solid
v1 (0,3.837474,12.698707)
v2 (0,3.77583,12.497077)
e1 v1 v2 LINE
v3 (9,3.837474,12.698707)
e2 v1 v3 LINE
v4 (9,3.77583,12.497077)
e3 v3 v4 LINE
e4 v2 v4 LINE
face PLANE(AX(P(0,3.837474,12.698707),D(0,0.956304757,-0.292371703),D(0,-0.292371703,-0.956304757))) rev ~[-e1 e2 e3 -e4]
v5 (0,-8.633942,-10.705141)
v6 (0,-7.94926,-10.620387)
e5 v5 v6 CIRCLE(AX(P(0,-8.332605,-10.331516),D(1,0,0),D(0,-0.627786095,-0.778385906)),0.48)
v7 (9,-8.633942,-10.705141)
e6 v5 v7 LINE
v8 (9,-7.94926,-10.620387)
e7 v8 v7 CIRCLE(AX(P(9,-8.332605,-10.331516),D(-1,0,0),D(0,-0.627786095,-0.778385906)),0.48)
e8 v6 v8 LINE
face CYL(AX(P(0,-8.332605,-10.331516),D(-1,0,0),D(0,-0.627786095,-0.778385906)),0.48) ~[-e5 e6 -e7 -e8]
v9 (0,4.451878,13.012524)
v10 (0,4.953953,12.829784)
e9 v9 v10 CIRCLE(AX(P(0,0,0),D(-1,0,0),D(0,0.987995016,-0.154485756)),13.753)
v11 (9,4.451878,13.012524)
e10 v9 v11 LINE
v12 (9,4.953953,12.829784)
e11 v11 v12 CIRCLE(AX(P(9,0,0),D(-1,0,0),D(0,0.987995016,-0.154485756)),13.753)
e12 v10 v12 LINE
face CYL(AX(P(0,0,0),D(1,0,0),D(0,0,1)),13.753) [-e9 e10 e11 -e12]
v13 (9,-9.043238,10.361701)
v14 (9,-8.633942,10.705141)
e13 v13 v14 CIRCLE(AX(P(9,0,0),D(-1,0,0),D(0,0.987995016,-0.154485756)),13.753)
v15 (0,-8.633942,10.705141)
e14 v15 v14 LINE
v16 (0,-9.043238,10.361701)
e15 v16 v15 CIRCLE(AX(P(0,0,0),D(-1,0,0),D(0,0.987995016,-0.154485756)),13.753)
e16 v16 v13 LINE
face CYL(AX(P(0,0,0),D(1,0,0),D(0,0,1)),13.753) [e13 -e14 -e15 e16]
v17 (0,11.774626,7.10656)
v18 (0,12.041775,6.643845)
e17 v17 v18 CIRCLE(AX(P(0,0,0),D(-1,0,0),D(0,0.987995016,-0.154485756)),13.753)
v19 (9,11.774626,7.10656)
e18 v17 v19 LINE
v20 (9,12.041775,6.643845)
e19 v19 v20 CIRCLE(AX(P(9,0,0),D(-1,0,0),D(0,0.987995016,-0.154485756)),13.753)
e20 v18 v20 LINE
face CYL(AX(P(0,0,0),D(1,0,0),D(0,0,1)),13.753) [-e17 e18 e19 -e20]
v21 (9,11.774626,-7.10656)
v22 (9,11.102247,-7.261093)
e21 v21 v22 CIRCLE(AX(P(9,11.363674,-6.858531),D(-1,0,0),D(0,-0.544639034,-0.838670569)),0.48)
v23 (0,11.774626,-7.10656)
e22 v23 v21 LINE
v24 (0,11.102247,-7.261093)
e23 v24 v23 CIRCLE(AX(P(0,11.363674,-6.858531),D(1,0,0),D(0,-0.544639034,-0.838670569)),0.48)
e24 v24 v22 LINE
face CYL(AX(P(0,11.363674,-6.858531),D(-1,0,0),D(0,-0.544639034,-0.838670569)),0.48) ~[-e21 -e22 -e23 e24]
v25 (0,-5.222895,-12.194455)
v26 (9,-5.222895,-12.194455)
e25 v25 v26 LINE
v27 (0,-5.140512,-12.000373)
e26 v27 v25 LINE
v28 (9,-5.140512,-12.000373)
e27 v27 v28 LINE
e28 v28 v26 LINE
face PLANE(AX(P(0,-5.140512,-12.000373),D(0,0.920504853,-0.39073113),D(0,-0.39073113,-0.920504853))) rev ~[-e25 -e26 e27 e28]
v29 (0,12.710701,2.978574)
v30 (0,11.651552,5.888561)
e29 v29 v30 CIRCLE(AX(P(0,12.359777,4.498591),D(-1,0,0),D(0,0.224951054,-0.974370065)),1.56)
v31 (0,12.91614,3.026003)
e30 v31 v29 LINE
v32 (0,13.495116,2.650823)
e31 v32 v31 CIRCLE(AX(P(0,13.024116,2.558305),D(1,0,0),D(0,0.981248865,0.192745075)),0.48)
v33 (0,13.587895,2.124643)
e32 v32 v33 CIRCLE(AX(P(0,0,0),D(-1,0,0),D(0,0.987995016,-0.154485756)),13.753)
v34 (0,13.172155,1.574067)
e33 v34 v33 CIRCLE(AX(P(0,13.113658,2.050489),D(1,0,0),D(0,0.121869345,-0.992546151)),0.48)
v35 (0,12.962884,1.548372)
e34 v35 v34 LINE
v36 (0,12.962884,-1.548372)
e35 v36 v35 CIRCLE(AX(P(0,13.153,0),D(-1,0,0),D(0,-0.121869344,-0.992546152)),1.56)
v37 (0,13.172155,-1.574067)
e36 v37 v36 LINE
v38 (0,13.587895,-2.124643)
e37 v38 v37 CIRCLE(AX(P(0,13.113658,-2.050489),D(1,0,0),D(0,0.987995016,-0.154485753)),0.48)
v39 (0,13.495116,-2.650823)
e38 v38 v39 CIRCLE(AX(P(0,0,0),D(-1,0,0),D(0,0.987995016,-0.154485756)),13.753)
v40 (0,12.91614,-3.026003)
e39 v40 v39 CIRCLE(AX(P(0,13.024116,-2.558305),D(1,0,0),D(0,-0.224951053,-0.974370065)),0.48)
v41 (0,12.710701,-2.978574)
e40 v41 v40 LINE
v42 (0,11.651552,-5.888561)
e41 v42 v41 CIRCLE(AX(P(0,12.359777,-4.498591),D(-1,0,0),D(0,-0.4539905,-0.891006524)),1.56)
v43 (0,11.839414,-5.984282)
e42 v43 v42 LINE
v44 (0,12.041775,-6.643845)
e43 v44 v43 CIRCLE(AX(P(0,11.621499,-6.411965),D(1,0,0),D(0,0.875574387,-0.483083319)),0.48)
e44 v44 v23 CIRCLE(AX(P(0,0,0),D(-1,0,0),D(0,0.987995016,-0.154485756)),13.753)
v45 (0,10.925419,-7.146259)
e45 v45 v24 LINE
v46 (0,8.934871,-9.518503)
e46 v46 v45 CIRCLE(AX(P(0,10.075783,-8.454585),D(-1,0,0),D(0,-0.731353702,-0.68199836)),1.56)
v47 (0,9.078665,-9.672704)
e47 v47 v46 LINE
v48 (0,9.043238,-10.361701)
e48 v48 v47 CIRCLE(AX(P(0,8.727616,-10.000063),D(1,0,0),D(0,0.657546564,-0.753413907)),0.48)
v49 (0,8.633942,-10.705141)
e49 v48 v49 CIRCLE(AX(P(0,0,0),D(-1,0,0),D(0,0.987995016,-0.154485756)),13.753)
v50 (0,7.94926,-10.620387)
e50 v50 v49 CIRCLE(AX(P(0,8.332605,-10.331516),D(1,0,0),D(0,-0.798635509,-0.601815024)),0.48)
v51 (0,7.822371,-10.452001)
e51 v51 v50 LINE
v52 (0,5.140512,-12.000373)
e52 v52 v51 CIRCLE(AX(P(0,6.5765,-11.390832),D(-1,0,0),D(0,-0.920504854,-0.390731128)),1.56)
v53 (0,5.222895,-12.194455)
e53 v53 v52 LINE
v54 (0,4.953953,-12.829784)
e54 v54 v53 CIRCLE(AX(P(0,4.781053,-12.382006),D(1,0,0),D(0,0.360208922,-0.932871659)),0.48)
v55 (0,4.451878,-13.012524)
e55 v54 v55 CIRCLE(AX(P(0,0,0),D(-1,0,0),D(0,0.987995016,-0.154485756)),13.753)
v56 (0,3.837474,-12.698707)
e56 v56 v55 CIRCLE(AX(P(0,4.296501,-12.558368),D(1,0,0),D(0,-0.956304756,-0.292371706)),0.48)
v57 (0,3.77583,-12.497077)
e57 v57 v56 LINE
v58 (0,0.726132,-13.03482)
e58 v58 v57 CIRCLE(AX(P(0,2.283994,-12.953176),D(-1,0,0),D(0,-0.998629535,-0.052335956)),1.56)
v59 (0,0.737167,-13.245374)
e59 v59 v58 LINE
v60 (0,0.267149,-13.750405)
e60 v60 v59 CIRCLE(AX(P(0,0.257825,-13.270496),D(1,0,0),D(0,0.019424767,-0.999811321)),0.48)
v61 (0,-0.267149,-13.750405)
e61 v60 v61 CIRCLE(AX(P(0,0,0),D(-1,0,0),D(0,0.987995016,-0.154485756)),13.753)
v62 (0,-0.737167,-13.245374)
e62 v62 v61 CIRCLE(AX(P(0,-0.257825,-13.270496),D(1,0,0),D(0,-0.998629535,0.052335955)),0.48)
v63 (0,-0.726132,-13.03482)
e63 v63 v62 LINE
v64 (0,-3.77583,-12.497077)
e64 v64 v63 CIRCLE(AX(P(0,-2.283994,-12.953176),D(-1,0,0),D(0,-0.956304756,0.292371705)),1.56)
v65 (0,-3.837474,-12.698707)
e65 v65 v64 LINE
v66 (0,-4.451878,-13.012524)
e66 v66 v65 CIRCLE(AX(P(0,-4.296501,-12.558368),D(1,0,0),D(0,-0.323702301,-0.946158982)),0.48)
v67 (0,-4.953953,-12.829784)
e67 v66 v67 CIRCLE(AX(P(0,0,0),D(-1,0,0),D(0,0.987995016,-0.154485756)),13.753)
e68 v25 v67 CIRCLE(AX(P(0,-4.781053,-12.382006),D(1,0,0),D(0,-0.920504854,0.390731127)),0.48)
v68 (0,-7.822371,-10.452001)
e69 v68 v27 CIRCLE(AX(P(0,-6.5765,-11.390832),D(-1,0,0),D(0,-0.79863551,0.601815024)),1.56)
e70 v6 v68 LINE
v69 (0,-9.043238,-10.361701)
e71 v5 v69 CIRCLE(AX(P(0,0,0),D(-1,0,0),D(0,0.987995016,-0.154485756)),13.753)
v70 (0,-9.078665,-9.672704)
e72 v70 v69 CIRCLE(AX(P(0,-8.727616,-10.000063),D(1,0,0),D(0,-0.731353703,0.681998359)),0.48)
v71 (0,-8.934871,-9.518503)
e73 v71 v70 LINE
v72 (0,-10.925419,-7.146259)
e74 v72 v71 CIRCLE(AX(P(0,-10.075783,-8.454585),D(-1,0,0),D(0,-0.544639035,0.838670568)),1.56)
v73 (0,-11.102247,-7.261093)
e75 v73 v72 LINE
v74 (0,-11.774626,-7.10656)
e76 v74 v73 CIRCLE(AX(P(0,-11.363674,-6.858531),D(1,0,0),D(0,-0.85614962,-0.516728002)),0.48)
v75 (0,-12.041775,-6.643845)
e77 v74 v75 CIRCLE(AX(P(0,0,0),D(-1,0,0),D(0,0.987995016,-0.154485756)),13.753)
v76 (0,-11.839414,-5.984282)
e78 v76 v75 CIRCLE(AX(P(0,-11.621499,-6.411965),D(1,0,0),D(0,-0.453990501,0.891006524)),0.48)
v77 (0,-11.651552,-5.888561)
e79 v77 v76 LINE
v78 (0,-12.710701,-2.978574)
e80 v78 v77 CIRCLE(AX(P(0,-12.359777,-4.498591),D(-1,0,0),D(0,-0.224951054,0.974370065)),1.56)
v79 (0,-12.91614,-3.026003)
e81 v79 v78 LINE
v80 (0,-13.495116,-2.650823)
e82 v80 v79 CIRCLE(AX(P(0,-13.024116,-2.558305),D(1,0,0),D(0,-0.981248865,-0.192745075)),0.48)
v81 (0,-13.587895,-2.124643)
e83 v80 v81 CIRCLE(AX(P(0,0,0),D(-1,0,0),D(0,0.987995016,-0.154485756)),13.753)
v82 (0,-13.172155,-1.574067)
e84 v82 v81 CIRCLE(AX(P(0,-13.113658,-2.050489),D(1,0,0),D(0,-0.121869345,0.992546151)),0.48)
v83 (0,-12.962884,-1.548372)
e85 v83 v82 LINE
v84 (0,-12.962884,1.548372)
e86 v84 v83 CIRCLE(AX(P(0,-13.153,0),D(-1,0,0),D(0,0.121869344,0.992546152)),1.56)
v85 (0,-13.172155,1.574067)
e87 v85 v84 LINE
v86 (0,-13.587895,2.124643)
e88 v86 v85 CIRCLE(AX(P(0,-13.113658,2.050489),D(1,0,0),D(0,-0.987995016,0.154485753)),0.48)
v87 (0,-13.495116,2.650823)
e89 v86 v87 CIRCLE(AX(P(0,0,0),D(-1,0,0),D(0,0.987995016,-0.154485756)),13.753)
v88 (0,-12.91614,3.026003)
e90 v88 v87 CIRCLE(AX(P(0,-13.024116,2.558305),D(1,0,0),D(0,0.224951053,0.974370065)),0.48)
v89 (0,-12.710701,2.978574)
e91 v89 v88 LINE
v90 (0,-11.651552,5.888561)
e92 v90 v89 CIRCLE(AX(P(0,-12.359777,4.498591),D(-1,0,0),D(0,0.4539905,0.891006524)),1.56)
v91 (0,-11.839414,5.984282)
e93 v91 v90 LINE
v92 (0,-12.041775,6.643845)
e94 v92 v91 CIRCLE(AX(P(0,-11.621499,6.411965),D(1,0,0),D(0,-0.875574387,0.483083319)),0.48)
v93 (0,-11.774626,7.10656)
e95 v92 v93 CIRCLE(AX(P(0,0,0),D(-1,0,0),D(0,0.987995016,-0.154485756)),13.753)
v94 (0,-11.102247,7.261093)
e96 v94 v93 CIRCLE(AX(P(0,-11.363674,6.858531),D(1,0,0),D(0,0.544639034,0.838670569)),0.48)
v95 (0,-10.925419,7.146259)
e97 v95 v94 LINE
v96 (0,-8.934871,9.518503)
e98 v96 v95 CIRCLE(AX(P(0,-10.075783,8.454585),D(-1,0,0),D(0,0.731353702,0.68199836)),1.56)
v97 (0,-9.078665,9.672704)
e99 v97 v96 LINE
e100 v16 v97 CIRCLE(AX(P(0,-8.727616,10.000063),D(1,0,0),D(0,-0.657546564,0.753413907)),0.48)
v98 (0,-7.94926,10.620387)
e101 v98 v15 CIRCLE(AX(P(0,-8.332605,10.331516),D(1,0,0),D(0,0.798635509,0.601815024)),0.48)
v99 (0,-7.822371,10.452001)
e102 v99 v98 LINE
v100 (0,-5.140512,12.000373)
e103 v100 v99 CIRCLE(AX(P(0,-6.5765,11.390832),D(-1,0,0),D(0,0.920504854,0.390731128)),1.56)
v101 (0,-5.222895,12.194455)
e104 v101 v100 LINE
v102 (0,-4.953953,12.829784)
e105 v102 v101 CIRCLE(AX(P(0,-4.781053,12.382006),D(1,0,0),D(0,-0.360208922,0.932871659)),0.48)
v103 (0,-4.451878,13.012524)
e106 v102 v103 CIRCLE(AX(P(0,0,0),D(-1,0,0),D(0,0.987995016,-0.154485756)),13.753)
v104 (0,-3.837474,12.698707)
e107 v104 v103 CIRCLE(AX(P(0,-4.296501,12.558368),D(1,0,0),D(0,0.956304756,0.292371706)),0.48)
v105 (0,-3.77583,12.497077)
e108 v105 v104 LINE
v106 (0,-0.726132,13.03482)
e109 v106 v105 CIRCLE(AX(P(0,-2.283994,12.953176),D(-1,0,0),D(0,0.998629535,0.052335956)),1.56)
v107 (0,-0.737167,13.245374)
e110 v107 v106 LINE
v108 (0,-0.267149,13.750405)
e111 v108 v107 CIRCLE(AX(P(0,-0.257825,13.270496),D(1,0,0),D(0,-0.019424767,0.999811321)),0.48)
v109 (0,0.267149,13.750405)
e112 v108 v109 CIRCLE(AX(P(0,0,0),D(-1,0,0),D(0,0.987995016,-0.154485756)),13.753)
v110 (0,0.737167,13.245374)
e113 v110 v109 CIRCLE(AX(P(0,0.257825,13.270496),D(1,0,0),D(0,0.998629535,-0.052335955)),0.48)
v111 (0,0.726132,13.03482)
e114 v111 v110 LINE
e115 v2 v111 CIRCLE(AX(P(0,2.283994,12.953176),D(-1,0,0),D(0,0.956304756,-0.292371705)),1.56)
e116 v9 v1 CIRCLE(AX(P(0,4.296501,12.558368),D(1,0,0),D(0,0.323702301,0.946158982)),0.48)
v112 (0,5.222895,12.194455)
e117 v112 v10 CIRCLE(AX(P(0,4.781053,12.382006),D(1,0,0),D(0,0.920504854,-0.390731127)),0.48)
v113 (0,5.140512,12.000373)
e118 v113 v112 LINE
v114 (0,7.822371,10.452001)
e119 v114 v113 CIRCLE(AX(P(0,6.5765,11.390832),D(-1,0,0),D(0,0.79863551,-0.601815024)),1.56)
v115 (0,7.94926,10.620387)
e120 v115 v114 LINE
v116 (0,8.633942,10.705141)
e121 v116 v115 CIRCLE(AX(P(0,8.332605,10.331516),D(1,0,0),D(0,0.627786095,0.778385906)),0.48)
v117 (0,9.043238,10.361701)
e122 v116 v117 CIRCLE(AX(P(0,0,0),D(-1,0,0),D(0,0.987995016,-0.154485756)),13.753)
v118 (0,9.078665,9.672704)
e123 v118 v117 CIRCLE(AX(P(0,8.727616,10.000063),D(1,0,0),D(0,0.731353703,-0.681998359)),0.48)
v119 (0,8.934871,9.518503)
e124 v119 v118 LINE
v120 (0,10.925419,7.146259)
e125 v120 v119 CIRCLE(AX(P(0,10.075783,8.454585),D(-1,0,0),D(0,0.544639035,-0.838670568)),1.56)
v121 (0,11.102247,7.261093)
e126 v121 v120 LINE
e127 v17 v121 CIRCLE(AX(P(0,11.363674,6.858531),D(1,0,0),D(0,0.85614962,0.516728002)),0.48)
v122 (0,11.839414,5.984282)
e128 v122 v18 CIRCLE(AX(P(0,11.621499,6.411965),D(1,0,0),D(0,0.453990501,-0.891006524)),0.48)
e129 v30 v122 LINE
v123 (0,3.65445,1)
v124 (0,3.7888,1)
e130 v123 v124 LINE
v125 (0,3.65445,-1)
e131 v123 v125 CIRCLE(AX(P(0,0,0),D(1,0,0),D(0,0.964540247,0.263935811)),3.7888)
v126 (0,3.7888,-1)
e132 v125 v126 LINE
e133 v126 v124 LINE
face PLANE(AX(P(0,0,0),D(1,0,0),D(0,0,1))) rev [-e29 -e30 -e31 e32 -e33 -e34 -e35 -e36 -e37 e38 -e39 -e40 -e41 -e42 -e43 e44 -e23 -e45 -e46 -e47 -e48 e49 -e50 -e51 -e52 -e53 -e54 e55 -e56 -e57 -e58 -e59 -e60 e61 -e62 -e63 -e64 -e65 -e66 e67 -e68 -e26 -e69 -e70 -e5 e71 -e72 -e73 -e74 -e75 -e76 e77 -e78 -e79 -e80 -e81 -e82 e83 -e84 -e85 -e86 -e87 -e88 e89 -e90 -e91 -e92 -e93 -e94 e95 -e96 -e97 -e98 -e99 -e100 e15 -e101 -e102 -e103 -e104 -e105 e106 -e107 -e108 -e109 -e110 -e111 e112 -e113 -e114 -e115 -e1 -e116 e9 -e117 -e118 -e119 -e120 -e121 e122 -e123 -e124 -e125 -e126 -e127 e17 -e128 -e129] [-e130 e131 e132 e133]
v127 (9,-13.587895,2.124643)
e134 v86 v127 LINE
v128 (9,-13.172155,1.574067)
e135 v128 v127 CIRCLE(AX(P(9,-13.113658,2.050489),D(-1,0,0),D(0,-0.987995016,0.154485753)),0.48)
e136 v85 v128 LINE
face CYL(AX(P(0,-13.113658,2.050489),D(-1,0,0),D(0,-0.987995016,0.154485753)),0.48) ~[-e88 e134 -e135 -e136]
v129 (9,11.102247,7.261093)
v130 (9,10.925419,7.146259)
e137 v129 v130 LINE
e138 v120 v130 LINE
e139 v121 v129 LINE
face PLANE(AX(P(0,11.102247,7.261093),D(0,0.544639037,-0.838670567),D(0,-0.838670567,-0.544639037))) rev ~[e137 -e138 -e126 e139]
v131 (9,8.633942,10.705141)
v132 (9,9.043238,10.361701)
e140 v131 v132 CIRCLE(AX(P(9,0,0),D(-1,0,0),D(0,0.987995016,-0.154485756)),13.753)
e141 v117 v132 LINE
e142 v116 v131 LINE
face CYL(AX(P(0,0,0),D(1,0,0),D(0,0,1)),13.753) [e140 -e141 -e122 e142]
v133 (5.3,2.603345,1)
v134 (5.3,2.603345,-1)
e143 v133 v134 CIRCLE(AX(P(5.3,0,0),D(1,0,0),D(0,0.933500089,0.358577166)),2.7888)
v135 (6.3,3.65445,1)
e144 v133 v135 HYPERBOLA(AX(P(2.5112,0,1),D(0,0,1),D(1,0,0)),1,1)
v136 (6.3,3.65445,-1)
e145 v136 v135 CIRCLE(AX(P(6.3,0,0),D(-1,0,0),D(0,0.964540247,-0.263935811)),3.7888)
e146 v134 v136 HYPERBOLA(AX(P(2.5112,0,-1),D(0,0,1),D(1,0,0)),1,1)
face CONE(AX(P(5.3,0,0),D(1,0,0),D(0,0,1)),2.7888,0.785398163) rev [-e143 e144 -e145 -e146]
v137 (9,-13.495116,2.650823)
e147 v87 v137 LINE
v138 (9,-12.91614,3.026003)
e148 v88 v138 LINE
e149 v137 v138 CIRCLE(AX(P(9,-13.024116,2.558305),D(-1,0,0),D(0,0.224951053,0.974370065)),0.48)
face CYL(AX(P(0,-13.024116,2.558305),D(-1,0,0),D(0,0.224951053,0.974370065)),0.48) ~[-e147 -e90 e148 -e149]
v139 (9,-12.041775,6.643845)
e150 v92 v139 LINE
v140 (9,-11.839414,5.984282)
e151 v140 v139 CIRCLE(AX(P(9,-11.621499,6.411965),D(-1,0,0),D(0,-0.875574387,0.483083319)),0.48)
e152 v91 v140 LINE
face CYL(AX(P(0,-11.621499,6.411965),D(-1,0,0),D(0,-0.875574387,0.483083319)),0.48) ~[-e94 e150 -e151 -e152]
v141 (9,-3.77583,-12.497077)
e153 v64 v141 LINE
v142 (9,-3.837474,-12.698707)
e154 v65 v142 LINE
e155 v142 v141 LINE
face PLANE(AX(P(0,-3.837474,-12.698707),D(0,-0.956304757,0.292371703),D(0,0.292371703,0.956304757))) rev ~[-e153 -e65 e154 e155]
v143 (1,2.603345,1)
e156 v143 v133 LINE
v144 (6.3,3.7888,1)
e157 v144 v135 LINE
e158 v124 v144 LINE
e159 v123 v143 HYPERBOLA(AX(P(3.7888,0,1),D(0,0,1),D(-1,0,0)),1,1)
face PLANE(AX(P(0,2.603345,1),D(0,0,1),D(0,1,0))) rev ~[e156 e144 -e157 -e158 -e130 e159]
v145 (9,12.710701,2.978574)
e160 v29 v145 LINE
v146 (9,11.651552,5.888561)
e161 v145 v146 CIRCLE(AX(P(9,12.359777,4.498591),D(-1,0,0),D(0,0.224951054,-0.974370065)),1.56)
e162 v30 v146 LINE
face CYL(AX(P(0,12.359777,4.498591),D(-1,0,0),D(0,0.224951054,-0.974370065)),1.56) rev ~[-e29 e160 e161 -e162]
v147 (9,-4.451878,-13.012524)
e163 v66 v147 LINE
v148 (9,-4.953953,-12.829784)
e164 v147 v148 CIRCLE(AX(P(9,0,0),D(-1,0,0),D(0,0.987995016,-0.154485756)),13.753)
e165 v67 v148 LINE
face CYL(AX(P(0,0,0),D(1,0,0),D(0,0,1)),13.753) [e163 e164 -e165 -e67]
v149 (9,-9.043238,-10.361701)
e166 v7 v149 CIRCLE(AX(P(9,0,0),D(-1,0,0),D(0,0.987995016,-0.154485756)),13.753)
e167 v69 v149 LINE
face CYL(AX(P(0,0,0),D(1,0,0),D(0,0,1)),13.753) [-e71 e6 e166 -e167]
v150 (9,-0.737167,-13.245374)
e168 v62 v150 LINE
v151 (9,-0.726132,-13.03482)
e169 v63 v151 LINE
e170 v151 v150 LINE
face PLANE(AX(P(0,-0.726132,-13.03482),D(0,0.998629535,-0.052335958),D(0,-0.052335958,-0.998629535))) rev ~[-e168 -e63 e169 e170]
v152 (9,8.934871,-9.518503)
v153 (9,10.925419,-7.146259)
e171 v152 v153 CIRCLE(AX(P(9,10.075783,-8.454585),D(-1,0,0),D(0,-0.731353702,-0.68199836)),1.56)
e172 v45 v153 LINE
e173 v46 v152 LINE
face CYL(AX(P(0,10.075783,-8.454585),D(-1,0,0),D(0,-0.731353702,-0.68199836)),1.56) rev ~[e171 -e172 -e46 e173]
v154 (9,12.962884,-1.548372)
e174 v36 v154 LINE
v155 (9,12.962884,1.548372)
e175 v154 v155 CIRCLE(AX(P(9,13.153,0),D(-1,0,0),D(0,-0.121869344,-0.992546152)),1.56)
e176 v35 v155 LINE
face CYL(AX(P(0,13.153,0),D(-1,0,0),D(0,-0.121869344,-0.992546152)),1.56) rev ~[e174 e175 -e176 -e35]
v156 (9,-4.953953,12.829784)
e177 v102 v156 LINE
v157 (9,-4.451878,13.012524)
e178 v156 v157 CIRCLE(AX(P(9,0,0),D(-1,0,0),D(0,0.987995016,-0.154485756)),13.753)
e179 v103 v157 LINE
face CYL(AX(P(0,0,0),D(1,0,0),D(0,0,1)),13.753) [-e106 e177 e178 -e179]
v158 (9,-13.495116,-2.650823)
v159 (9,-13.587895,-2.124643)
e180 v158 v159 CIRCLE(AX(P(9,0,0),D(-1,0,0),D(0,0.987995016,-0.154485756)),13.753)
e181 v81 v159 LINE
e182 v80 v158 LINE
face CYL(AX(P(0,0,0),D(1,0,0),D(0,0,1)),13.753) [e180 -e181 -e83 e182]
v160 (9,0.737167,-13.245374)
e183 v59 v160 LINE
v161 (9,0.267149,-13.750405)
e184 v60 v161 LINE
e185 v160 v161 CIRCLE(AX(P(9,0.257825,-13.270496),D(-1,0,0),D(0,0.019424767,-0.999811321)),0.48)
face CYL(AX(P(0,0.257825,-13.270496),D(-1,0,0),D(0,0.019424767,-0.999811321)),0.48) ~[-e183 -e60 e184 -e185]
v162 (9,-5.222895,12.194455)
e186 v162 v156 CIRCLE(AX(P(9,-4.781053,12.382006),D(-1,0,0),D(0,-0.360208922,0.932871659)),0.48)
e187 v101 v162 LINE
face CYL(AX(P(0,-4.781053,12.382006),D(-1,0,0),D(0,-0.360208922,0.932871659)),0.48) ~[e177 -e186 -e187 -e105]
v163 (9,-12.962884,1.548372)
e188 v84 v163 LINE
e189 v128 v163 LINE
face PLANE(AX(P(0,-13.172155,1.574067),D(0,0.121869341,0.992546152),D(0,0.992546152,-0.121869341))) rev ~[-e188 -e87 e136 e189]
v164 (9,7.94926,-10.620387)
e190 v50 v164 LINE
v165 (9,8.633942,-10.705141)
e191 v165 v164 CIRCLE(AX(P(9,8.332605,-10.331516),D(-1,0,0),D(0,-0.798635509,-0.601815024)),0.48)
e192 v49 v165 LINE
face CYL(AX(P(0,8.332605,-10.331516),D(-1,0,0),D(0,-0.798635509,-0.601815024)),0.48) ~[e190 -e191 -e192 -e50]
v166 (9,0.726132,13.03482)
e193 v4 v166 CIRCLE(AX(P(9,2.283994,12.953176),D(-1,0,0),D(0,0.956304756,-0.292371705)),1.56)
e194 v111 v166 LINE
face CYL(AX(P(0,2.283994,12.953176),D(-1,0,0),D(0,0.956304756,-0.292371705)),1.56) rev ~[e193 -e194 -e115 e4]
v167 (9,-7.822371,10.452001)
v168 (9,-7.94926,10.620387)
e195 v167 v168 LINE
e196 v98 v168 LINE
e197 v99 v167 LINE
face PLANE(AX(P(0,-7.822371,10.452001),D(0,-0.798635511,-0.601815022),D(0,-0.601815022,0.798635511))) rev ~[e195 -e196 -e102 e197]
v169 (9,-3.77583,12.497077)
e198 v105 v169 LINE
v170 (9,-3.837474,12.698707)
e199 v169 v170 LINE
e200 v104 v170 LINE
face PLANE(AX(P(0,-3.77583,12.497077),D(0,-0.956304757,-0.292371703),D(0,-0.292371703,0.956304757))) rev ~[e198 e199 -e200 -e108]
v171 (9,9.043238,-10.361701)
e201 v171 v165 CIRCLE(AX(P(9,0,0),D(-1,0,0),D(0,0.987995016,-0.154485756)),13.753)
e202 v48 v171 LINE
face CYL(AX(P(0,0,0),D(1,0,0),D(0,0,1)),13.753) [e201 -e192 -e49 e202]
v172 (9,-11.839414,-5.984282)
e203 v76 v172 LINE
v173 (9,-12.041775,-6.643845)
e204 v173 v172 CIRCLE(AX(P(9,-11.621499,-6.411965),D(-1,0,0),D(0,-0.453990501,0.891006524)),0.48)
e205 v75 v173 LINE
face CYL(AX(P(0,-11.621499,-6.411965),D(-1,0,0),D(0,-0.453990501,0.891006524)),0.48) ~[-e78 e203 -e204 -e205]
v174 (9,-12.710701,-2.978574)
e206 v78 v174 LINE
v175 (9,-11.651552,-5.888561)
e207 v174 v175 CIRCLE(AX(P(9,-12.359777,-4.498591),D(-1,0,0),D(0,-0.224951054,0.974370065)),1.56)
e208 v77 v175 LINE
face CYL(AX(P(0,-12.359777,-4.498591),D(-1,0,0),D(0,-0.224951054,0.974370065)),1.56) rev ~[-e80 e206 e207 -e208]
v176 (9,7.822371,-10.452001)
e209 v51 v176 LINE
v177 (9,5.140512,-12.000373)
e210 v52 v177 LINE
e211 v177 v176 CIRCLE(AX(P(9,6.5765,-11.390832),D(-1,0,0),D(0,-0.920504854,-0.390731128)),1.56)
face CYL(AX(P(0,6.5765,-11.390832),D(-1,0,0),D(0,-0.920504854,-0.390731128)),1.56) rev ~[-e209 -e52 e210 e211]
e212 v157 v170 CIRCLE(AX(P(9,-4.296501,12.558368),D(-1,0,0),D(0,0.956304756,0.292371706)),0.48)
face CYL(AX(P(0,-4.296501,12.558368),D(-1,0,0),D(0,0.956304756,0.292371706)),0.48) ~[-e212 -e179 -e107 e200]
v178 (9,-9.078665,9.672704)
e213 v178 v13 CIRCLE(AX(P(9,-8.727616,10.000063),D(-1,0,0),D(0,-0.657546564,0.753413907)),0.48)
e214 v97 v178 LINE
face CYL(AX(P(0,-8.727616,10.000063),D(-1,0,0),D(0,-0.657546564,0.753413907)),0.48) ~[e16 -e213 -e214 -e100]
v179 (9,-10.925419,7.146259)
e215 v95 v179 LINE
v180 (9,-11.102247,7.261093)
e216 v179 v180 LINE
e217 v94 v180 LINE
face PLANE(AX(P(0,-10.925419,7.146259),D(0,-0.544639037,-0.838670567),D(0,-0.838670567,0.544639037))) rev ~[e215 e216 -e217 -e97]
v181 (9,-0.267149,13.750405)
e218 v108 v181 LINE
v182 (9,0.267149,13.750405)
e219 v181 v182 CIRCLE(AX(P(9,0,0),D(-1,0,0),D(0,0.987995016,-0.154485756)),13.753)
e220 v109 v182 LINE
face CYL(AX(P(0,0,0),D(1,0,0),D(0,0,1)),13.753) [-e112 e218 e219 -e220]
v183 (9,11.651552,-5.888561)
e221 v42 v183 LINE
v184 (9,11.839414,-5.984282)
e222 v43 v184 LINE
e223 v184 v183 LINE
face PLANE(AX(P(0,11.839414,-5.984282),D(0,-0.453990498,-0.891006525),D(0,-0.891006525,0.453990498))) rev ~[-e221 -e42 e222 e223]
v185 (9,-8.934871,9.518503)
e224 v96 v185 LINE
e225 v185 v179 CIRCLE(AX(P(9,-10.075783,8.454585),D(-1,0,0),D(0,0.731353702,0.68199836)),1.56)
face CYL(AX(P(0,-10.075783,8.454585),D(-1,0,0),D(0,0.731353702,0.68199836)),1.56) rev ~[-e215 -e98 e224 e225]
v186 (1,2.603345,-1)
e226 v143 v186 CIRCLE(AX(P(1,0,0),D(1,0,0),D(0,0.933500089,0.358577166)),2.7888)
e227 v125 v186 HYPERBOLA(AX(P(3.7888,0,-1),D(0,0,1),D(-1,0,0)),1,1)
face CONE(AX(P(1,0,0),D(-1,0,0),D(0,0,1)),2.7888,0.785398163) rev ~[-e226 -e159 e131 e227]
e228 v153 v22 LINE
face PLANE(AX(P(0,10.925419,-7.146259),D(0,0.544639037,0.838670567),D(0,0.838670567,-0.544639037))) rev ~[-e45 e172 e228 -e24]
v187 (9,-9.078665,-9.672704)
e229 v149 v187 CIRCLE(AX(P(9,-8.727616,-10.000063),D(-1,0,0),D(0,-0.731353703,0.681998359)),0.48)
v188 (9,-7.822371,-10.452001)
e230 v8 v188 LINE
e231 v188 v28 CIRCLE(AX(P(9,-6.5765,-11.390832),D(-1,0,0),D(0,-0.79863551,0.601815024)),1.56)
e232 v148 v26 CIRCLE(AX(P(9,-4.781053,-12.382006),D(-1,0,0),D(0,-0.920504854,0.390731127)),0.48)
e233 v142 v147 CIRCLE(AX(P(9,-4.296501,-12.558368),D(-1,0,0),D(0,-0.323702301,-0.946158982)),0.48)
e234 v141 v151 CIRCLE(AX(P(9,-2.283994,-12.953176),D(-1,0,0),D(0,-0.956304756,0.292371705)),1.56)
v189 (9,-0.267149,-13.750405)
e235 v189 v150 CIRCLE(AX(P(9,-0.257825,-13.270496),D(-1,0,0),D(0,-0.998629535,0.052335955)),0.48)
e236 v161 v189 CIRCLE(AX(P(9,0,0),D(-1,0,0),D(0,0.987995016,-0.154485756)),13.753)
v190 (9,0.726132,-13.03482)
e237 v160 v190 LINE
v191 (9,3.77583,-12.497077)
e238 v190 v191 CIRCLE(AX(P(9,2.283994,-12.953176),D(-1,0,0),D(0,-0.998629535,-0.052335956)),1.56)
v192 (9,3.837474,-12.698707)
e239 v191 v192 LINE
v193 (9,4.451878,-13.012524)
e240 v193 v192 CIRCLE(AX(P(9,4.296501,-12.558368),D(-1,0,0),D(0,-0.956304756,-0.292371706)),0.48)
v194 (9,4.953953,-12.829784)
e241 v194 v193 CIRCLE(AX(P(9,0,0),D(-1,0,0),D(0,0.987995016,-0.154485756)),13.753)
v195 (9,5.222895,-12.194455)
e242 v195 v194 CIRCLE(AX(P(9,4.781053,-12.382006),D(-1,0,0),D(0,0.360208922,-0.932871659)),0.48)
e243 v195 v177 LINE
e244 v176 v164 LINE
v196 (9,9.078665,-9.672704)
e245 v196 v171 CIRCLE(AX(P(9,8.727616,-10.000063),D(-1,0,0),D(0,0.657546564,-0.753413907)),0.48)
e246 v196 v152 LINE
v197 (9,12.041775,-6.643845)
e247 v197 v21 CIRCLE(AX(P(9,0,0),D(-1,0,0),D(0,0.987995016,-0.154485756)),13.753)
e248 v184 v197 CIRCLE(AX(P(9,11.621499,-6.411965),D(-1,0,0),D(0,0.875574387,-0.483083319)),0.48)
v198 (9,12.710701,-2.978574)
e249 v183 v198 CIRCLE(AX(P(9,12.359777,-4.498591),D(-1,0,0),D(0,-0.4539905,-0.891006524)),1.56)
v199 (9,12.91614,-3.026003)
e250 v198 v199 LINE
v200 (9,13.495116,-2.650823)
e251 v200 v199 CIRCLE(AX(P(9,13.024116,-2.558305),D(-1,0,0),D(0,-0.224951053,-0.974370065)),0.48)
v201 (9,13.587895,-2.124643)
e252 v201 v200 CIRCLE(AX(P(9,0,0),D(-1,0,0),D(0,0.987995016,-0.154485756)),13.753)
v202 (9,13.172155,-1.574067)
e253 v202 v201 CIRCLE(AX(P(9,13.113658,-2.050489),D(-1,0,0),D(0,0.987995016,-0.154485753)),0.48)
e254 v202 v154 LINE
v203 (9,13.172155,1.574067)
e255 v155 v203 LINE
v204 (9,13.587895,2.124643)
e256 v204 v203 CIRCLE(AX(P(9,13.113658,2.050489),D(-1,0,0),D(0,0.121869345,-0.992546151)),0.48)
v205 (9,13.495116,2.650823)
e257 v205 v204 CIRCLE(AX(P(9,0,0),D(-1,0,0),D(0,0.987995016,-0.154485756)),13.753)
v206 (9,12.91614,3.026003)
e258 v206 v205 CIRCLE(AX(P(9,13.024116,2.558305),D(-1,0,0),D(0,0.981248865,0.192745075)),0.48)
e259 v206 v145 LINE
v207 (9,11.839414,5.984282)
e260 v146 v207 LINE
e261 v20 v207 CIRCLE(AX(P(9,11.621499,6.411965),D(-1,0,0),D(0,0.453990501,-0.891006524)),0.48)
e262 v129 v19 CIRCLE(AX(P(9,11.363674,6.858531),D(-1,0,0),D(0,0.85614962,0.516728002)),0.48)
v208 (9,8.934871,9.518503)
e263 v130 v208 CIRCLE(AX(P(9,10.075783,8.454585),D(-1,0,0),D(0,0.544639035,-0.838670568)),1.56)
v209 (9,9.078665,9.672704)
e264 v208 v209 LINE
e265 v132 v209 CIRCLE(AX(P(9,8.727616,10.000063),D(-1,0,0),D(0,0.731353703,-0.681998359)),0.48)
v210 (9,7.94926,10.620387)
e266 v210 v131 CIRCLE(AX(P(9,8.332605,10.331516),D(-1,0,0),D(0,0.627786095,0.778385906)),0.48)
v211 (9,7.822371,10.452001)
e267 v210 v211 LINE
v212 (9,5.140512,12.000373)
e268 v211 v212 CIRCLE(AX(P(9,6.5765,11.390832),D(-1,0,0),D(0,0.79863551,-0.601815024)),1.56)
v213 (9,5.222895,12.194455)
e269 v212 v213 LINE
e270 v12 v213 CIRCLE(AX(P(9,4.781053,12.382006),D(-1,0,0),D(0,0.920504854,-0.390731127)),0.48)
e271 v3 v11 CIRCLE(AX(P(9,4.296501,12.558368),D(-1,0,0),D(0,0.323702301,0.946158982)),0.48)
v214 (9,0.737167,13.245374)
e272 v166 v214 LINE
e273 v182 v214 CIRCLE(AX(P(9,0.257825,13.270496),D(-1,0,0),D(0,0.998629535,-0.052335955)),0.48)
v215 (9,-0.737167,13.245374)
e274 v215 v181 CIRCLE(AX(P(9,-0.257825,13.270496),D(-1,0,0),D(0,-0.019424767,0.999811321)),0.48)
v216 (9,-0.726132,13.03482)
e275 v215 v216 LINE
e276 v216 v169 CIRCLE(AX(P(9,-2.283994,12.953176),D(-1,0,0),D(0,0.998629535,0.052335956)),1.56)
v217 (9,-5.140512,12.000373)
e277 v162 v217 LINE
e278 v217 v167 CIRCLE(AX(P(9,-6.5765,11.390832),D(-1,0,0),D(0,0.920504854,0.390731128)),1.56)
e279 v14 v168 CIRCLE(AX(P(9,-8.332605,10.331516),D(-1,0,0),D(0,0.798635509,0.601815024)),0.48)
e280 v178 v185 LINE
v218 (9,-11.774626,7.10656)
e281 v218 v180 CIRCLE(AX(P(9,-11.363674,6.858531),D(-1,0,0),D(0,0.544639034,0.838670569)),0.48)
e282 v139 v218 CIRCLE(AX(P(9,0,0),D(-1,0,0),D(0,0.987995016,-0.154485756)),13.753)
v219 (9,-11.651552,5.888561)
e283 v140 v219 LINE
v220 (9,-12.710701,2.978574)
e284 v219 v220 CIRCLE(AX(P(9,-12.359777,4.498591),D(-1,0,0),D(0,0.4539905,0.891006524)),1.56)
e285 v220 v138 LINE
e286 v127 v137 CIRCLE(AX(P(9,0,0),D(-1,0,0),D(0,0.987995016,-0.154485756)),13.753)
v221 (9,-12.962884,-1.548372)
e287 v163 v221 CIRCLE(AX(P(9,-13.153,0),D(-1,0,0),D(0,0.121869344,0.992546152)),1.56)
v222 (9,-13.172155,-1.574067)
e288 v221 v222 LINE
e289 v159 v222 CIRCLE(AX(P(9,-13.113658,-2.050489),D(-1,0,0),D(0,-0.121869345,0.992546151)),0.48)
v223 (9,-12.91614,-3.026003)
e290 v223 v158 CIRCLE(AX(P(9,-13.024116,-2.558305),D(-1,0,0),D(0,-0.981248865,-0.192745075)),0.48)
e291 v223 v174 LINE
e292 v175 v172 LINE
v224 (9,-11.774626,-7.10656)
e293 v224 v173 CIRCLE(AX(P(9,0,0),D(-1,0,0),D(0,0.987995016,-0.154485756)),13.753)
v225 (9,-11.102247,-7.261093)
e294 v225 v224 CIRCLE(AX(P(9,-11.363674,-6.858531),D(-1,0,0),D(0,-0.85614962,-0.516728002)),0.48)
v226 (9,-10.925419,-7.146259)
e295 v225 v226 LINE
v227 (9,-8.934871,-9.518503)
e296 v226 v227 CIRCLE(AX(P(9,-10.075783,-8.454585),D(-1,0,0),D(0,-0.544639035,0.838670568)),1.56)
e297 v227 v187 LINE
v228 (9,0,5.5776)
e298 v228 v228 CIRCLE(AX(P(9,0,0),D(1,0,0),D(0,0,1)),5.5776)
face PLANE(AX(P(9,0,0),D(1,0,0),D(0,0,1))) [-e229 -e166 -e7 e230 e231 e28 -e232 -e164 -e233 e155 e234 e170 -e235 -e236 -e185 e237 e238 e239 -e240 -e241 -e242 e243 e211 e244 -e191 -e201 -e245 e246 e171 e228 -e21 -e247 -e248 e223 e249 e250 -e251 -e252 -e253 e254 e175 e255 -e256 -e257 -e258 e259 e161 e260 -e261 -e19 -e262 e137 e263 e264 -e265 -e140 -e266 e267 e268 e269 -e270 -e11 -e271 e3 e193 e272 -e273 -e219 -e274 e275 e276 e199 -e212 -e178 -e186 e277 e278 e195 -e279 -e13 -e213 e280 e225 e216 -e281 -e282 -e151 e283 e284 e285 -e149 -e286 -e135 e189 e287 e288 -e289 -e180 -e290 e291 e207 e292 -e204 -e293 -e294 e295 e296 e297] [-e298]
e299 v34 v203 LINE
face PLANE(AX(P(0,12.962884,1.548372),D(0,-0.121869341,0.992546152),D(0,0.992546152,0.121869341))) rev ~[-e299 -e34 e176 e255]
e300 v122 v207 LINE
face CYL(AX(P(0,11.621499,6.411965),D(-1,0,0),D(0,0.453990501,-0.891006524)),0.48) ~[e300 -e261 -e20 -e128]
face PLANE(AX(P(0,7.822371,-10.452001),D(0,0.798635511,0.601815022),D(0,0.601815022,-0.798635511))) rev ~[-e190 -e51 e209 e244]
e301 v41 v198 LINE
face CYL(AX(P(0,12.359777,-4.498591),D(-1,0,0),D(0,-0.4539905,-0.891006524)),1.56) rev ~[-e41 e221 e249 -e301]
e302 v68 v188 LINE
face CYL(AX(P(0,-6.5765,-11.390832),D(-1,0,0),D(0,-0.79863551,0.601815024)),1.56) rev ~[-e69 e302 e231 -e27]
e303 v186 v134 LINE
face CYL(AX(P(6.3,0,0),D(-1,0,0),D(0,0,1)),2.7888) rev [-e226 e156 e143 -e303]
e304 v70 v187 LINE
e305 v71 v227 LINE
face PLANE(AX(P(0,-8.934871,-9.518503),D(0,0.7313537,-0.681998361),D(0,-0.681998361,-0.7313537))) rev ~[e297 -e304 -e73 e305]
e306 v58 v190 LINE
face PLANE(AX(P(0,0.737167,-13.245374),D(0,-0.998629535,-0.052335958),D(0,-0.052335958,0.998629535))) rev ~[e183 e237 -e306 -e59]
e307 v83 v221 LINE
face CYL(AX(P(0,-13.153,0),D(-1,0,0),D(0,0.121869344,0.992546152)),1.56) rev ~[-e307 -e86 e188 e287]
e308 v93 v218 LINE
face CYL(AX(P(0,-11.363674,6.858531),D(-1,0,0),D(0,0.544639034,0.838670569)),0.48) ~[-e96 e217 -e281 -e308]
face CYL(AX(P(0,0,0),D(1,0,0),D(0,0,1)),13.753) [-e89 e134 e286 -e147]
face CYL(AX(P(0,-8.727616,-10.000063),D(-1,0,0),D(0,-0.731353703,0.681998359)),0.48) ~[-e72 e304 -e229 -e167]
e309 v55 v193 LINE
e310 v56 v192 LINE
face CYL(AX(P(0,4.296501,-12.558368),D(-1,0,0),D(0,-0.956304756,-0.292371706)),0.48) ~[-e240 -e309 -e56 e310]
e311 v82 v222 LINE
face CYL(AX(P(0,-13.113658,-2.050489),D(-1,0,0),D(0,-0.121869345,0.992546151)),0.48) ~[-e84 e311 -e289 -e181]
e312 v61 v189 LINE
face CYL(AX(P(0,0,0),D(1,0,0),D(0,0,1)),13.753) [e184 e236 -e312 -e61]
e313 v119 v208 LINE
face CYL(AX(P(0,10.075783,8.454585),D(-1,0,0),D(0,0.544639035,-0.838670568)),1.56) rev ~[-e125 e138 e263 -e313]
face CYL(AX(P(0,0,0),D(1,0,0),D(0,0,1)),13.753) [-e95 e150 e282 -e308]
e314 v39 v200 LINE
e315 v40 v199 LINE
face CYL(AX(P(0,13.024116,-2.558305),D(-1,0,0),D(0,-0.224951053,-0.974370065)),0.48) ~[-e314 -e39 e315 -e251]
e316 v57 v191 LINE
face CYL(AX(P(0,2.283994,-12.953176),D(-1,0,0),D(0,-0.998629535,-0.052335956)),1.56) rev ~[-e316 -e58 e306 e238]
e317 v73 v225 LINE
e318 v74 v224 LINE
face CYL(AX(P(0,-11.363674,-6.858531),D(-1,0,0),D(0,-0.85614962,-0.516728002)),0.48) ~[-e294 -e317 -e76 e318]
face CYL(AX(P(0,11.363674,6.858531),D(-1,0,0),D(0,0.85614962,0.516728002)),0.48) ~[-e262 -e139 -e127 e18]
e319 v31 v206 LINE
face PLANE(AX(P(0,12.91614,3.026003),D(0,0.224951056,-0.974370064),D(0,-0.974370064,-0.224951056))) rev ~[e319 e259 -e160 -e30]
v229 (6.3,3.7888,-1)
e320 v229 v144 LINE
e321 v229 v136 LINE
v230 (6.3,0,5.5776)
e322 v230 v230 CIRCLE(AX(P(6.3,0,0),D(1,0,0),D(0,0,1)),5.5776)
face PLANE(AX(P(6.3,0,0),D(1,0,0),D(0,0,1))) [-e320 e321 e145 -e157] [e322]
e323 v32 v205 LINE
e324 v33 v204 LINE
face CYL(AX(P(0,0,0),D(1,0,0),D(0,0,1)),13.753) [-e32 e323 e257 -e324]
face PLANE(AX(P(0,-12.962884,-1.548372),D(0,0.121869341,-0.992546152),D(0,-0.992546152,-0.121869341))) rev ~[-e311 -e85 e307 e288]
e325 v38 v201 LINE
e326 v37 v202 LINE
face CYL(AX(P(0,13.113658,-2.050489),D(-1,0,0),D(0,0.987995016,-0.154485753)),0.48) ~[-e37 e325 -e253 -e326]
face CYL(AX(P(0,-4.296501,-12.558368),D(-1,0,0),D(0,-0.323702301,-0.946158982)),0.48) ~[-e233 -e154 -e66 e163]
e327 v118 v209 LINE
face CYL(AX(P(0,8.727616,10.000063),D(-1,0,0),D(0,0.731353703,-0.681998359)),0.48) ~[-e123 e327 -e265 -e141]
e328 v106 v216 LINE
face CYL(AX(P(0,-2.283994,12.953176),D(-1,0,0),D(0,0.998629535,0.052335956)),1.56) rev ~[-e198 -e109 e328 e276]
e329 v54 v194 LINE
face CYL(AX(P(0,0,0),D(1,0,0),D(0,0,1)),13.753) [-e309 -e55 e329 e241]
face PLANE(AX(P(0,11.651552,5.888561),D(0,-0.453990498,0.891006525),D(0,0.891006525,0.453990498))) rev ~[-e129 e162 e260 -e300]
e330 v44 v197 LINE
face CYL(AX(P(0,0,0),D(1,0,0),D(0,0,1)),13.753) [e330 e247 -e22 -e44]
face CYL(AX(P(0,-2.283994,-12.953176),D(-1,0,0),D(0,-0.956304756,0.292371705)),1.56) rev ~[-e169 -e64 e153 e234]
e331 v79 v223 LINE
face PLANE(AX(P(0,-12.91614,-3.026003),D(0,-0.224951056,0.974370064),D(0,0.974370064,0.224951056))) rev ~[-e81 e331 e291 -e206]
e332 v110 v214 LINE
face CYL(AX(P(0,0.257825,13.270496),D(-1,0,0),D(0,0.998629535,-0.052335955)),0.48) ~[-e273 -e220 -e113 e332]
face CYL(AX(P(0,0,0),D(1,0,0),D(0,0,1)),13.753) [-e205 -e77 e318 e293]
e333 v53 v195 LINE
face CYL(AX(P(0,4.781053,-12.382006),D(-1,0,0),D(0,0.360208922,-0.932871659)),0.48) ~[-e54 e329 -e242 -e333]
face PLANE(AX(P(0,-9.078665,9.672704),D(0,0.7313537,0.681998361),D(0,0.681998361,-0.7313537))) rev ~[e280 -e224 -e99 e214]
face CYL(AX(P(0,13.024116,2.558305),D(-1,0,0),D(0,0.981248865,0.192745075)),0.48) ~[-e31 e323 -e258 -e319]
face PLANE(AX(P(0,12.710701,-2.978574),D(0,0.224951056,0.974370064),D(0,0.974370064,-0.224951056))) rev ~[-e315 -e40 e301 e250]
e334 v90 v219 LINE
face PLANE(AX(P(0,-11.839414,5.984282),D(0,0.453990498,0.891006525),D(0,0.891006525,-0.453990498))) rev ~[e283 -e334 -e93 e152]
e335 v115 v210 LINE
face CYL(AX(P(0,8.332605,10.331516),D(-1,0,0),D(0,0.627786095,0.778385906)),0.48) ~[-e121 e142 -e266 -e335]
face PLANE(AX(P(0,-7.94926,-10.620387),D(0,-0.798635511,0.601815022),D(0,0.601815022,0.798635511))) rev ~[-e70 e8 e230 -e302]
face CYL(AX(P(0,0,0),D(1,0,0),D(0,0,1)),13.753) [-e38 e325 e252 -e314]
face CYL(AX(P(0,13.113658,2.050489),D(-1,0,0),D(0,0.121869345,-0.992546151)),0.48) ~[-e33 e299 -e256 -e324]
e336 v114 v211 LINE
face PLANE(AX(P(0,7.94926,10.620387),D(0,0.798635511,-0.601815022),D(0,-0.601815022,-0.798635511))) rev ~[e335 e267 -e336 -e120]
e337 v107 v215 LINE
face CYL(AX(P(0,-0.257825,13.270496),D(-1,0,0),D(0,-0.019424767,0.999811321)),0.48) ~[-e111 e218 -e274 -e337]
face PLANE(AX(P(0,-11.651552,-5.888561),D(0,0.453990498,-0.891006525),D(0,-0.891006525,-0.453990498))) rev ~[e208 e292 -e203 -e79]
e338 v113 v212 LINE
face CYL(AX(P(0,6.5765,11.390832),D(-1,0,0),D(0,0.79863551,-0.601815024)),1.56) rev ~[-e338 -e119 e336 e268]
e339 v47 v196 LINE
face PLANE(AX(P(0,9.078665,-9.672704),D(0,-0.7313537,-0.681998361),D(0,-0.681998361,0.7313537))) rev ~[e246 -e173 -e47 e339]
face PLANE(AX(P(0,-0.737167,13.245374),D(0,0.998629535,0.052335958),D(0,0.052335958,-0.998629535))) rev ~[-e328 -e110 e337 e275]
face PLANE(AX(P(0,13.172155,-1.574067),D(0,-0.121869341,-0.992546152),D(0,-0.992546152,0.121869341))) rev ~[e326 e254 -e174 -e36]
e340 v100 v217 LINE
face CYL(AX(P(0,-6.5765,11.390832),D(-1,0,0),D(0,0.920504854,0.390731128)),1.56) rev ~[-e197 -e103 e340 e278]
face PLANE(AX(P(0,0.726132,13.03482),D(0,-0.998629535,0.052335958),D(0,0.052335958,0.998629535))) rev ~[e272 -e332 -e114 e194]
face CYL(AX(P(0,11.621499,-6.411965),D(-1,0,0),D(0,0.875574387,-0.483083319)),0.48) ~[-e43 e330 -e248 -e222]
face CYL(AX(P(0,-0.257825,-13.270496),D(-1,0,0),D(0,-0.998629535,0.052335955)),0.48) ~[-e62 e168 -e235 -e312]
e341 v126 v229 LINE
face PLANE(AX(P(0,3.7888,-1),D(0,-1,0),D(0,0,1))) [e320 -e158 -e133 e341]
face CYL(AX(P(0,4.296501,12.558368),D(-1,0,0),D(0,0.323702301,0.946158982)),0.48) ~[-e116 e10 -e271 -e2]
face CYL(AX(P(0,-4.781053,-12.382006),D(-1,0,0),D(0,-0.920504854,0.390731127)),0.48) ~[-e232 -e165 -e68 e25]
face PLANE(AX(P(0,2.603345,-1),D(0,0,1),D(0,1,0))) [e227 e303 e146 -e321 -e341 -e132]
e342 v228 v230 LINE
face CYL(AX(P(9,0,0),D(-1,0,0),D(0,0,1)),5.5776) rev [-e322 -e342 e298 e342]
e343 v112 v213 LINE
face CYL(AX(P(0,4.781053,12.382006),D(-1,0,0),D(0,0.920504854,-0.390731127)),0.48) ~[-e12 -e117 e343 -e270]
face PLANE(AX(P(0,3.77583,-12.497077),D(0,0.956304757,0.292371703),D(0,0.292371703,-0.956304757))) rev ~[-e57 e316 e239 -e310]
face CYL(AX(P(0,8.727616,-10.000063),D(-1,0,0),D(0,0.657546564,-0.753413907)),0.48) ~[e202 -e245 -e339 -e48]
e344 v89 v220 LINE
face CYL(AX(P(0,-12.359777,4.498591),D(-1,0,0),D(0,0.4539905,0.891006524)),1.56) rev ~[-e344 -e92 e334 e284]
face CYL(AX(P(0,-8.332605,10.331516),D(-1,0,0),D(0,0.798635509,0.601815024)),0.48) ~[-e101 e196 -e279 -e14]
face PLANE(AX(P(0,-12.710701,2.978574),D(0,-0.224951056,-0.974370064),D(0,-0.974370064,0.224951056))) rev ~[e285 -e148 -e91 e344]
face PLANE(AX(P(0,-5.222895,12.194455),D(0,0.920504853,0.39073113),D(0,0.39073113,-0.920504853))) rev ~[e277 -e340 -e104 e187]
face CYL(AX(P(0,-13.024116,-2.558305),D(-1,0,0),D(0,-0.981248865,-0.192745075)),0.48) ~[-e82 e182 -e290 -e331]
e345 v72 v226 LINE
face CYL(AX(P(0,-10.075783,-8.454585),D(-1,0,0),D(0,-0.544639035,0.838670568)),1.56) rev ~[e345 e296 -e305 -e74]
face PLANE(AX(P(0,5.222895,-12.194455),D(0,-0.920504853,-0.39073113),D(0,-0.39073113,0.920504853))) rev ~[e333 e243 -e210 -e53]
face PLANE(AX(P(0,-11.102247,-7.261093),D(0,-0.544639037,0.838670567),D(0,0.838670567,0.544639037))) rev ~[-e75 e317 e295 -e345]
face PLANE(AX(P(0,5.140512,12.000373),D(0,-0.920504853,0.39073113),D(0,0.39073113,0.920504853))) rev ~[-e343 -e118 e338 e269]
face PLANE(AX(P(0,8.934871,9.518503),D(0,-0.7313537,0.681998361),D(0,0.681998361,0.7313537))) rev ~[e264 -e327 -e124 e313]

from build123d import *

# Parameters (mm, degrees)
CHAMFER_1_SIZE           = 1
SKETCH_4_W               = 2
SKETCH_4_H               = 1.185454952
CUT_EXTRUDE_1_DEPTH      = 22.431052657
CUT_EXTRUDE_2_REACH      = 23.431
PATTERN_CIRCULAR_3_COUNT = 18


with BuildPart() as part:
    # 草图1 → 旋转1 (revolve)
    with BuildSketch(Plane.XY):
        Polygon((0, 2.7888), (0, 13.753), (9, 13.753), (9, 5.5776), (6.3, 5.5776), (6.3, 2.7888), align=None)
    revolve(axis=Axis((0, 0, 0), (1, 0, 0)))

    # 倒角1
    chamfer_1_edges = [part.edges().sort_by_distance(p)[0] for p in [
        (6.3, -2.7888, 0),
        (0, -2.7888, 0),
    ]]
    chamfer(chamfer_1_edges, length=CHAMFER_1_SIZE)

    # 草图4 → 切除-拉伸1 (cut, through all)
    with BuildSketch(Plane.ZY):
        with Locations((0, 3.196072524)):
            Rectangle(SKETCH_4_W, SKETCH_4_H)
    extrude(amount=-CUT_EXTRUDE_1_DEPTH, mode=Mode.SUBTRACT)

    # 草图6 → 切除-拉伸2 (cut, up to next)
    with BuildSketch(Plane(origin=(0, 0, 0), x_dir=(0, 0, -1), z_dir=(1, 0, 0)), mode=Mode.PRIVATE) as cut_extrude_2_sk1:
        with BuildLine():
            Line((1.574067282, 13.17215513), (1.548371997, 12.962883824))
            ThreePointArc((1.548371997, 12.962883824), (0, 11.593), (-1.548371997, 12.962883824))
            Line((-1.548371997, 12.962883824), (-1.574067282, 13.17215513))
            ThreePointArc((-1.574067282, 13.17215513), (-1.761240253, 13.496717776), (-2.124642597, 13.587895453))
            ThreePointArc((-2.124642597, 13.587895453), (-2.36143787, 13.548749765), (-2.597513963, 13.505477785))
            Line((-2.597513963, 13.505477785), (-2.794161951, 15.107047128))
            ThreePointArc((-2.794161951, 15.107047128), (0, 15.363274844), (2.794161951, 15.107047128))
            Line((2.794161951, 15.107047128), (2.597513963, 13.505477785))
            ThreePointArc((2.597513963, 13.505477785), (2.36143787, 13.548749765), (2.124642597, 13.587895453))
            ThreePointArc((2.124642597, 13.587895453), (1.761240253, 13.496717776), (1.574067282, 13.17215513))
        make_face()
    cut_extrude_2_tool1 = extrude(cut_extrude_2_sk1.sketch, amount=CUT_EXTRUDE_2_REACH, mode=Mode.PRIVATE) & part.part
    cut_extrude_2 = cut_extrude_2_tool1.solids().sort_by_distance((0, 13.819423, 0))[0]
    add(cut_extrude_2, mode=Mode.SUBTRACT)

    # 阵列(圆周)3: 切除-拉伸2 ×18 about axis
    pattern_circular_3_axis = Axis((-1.4, 0, 0), (1, 0, 0))
    for i in range(1, PATTERN_CIRCULAR_3_COUNT):
        add(cut_extrude_2.rotate(pattern_circular_3_axis, i * 360 / PATTERN_CIRCULAR_3_COUNT), mode=Mode.SUBTRACT)


solid = part.part
